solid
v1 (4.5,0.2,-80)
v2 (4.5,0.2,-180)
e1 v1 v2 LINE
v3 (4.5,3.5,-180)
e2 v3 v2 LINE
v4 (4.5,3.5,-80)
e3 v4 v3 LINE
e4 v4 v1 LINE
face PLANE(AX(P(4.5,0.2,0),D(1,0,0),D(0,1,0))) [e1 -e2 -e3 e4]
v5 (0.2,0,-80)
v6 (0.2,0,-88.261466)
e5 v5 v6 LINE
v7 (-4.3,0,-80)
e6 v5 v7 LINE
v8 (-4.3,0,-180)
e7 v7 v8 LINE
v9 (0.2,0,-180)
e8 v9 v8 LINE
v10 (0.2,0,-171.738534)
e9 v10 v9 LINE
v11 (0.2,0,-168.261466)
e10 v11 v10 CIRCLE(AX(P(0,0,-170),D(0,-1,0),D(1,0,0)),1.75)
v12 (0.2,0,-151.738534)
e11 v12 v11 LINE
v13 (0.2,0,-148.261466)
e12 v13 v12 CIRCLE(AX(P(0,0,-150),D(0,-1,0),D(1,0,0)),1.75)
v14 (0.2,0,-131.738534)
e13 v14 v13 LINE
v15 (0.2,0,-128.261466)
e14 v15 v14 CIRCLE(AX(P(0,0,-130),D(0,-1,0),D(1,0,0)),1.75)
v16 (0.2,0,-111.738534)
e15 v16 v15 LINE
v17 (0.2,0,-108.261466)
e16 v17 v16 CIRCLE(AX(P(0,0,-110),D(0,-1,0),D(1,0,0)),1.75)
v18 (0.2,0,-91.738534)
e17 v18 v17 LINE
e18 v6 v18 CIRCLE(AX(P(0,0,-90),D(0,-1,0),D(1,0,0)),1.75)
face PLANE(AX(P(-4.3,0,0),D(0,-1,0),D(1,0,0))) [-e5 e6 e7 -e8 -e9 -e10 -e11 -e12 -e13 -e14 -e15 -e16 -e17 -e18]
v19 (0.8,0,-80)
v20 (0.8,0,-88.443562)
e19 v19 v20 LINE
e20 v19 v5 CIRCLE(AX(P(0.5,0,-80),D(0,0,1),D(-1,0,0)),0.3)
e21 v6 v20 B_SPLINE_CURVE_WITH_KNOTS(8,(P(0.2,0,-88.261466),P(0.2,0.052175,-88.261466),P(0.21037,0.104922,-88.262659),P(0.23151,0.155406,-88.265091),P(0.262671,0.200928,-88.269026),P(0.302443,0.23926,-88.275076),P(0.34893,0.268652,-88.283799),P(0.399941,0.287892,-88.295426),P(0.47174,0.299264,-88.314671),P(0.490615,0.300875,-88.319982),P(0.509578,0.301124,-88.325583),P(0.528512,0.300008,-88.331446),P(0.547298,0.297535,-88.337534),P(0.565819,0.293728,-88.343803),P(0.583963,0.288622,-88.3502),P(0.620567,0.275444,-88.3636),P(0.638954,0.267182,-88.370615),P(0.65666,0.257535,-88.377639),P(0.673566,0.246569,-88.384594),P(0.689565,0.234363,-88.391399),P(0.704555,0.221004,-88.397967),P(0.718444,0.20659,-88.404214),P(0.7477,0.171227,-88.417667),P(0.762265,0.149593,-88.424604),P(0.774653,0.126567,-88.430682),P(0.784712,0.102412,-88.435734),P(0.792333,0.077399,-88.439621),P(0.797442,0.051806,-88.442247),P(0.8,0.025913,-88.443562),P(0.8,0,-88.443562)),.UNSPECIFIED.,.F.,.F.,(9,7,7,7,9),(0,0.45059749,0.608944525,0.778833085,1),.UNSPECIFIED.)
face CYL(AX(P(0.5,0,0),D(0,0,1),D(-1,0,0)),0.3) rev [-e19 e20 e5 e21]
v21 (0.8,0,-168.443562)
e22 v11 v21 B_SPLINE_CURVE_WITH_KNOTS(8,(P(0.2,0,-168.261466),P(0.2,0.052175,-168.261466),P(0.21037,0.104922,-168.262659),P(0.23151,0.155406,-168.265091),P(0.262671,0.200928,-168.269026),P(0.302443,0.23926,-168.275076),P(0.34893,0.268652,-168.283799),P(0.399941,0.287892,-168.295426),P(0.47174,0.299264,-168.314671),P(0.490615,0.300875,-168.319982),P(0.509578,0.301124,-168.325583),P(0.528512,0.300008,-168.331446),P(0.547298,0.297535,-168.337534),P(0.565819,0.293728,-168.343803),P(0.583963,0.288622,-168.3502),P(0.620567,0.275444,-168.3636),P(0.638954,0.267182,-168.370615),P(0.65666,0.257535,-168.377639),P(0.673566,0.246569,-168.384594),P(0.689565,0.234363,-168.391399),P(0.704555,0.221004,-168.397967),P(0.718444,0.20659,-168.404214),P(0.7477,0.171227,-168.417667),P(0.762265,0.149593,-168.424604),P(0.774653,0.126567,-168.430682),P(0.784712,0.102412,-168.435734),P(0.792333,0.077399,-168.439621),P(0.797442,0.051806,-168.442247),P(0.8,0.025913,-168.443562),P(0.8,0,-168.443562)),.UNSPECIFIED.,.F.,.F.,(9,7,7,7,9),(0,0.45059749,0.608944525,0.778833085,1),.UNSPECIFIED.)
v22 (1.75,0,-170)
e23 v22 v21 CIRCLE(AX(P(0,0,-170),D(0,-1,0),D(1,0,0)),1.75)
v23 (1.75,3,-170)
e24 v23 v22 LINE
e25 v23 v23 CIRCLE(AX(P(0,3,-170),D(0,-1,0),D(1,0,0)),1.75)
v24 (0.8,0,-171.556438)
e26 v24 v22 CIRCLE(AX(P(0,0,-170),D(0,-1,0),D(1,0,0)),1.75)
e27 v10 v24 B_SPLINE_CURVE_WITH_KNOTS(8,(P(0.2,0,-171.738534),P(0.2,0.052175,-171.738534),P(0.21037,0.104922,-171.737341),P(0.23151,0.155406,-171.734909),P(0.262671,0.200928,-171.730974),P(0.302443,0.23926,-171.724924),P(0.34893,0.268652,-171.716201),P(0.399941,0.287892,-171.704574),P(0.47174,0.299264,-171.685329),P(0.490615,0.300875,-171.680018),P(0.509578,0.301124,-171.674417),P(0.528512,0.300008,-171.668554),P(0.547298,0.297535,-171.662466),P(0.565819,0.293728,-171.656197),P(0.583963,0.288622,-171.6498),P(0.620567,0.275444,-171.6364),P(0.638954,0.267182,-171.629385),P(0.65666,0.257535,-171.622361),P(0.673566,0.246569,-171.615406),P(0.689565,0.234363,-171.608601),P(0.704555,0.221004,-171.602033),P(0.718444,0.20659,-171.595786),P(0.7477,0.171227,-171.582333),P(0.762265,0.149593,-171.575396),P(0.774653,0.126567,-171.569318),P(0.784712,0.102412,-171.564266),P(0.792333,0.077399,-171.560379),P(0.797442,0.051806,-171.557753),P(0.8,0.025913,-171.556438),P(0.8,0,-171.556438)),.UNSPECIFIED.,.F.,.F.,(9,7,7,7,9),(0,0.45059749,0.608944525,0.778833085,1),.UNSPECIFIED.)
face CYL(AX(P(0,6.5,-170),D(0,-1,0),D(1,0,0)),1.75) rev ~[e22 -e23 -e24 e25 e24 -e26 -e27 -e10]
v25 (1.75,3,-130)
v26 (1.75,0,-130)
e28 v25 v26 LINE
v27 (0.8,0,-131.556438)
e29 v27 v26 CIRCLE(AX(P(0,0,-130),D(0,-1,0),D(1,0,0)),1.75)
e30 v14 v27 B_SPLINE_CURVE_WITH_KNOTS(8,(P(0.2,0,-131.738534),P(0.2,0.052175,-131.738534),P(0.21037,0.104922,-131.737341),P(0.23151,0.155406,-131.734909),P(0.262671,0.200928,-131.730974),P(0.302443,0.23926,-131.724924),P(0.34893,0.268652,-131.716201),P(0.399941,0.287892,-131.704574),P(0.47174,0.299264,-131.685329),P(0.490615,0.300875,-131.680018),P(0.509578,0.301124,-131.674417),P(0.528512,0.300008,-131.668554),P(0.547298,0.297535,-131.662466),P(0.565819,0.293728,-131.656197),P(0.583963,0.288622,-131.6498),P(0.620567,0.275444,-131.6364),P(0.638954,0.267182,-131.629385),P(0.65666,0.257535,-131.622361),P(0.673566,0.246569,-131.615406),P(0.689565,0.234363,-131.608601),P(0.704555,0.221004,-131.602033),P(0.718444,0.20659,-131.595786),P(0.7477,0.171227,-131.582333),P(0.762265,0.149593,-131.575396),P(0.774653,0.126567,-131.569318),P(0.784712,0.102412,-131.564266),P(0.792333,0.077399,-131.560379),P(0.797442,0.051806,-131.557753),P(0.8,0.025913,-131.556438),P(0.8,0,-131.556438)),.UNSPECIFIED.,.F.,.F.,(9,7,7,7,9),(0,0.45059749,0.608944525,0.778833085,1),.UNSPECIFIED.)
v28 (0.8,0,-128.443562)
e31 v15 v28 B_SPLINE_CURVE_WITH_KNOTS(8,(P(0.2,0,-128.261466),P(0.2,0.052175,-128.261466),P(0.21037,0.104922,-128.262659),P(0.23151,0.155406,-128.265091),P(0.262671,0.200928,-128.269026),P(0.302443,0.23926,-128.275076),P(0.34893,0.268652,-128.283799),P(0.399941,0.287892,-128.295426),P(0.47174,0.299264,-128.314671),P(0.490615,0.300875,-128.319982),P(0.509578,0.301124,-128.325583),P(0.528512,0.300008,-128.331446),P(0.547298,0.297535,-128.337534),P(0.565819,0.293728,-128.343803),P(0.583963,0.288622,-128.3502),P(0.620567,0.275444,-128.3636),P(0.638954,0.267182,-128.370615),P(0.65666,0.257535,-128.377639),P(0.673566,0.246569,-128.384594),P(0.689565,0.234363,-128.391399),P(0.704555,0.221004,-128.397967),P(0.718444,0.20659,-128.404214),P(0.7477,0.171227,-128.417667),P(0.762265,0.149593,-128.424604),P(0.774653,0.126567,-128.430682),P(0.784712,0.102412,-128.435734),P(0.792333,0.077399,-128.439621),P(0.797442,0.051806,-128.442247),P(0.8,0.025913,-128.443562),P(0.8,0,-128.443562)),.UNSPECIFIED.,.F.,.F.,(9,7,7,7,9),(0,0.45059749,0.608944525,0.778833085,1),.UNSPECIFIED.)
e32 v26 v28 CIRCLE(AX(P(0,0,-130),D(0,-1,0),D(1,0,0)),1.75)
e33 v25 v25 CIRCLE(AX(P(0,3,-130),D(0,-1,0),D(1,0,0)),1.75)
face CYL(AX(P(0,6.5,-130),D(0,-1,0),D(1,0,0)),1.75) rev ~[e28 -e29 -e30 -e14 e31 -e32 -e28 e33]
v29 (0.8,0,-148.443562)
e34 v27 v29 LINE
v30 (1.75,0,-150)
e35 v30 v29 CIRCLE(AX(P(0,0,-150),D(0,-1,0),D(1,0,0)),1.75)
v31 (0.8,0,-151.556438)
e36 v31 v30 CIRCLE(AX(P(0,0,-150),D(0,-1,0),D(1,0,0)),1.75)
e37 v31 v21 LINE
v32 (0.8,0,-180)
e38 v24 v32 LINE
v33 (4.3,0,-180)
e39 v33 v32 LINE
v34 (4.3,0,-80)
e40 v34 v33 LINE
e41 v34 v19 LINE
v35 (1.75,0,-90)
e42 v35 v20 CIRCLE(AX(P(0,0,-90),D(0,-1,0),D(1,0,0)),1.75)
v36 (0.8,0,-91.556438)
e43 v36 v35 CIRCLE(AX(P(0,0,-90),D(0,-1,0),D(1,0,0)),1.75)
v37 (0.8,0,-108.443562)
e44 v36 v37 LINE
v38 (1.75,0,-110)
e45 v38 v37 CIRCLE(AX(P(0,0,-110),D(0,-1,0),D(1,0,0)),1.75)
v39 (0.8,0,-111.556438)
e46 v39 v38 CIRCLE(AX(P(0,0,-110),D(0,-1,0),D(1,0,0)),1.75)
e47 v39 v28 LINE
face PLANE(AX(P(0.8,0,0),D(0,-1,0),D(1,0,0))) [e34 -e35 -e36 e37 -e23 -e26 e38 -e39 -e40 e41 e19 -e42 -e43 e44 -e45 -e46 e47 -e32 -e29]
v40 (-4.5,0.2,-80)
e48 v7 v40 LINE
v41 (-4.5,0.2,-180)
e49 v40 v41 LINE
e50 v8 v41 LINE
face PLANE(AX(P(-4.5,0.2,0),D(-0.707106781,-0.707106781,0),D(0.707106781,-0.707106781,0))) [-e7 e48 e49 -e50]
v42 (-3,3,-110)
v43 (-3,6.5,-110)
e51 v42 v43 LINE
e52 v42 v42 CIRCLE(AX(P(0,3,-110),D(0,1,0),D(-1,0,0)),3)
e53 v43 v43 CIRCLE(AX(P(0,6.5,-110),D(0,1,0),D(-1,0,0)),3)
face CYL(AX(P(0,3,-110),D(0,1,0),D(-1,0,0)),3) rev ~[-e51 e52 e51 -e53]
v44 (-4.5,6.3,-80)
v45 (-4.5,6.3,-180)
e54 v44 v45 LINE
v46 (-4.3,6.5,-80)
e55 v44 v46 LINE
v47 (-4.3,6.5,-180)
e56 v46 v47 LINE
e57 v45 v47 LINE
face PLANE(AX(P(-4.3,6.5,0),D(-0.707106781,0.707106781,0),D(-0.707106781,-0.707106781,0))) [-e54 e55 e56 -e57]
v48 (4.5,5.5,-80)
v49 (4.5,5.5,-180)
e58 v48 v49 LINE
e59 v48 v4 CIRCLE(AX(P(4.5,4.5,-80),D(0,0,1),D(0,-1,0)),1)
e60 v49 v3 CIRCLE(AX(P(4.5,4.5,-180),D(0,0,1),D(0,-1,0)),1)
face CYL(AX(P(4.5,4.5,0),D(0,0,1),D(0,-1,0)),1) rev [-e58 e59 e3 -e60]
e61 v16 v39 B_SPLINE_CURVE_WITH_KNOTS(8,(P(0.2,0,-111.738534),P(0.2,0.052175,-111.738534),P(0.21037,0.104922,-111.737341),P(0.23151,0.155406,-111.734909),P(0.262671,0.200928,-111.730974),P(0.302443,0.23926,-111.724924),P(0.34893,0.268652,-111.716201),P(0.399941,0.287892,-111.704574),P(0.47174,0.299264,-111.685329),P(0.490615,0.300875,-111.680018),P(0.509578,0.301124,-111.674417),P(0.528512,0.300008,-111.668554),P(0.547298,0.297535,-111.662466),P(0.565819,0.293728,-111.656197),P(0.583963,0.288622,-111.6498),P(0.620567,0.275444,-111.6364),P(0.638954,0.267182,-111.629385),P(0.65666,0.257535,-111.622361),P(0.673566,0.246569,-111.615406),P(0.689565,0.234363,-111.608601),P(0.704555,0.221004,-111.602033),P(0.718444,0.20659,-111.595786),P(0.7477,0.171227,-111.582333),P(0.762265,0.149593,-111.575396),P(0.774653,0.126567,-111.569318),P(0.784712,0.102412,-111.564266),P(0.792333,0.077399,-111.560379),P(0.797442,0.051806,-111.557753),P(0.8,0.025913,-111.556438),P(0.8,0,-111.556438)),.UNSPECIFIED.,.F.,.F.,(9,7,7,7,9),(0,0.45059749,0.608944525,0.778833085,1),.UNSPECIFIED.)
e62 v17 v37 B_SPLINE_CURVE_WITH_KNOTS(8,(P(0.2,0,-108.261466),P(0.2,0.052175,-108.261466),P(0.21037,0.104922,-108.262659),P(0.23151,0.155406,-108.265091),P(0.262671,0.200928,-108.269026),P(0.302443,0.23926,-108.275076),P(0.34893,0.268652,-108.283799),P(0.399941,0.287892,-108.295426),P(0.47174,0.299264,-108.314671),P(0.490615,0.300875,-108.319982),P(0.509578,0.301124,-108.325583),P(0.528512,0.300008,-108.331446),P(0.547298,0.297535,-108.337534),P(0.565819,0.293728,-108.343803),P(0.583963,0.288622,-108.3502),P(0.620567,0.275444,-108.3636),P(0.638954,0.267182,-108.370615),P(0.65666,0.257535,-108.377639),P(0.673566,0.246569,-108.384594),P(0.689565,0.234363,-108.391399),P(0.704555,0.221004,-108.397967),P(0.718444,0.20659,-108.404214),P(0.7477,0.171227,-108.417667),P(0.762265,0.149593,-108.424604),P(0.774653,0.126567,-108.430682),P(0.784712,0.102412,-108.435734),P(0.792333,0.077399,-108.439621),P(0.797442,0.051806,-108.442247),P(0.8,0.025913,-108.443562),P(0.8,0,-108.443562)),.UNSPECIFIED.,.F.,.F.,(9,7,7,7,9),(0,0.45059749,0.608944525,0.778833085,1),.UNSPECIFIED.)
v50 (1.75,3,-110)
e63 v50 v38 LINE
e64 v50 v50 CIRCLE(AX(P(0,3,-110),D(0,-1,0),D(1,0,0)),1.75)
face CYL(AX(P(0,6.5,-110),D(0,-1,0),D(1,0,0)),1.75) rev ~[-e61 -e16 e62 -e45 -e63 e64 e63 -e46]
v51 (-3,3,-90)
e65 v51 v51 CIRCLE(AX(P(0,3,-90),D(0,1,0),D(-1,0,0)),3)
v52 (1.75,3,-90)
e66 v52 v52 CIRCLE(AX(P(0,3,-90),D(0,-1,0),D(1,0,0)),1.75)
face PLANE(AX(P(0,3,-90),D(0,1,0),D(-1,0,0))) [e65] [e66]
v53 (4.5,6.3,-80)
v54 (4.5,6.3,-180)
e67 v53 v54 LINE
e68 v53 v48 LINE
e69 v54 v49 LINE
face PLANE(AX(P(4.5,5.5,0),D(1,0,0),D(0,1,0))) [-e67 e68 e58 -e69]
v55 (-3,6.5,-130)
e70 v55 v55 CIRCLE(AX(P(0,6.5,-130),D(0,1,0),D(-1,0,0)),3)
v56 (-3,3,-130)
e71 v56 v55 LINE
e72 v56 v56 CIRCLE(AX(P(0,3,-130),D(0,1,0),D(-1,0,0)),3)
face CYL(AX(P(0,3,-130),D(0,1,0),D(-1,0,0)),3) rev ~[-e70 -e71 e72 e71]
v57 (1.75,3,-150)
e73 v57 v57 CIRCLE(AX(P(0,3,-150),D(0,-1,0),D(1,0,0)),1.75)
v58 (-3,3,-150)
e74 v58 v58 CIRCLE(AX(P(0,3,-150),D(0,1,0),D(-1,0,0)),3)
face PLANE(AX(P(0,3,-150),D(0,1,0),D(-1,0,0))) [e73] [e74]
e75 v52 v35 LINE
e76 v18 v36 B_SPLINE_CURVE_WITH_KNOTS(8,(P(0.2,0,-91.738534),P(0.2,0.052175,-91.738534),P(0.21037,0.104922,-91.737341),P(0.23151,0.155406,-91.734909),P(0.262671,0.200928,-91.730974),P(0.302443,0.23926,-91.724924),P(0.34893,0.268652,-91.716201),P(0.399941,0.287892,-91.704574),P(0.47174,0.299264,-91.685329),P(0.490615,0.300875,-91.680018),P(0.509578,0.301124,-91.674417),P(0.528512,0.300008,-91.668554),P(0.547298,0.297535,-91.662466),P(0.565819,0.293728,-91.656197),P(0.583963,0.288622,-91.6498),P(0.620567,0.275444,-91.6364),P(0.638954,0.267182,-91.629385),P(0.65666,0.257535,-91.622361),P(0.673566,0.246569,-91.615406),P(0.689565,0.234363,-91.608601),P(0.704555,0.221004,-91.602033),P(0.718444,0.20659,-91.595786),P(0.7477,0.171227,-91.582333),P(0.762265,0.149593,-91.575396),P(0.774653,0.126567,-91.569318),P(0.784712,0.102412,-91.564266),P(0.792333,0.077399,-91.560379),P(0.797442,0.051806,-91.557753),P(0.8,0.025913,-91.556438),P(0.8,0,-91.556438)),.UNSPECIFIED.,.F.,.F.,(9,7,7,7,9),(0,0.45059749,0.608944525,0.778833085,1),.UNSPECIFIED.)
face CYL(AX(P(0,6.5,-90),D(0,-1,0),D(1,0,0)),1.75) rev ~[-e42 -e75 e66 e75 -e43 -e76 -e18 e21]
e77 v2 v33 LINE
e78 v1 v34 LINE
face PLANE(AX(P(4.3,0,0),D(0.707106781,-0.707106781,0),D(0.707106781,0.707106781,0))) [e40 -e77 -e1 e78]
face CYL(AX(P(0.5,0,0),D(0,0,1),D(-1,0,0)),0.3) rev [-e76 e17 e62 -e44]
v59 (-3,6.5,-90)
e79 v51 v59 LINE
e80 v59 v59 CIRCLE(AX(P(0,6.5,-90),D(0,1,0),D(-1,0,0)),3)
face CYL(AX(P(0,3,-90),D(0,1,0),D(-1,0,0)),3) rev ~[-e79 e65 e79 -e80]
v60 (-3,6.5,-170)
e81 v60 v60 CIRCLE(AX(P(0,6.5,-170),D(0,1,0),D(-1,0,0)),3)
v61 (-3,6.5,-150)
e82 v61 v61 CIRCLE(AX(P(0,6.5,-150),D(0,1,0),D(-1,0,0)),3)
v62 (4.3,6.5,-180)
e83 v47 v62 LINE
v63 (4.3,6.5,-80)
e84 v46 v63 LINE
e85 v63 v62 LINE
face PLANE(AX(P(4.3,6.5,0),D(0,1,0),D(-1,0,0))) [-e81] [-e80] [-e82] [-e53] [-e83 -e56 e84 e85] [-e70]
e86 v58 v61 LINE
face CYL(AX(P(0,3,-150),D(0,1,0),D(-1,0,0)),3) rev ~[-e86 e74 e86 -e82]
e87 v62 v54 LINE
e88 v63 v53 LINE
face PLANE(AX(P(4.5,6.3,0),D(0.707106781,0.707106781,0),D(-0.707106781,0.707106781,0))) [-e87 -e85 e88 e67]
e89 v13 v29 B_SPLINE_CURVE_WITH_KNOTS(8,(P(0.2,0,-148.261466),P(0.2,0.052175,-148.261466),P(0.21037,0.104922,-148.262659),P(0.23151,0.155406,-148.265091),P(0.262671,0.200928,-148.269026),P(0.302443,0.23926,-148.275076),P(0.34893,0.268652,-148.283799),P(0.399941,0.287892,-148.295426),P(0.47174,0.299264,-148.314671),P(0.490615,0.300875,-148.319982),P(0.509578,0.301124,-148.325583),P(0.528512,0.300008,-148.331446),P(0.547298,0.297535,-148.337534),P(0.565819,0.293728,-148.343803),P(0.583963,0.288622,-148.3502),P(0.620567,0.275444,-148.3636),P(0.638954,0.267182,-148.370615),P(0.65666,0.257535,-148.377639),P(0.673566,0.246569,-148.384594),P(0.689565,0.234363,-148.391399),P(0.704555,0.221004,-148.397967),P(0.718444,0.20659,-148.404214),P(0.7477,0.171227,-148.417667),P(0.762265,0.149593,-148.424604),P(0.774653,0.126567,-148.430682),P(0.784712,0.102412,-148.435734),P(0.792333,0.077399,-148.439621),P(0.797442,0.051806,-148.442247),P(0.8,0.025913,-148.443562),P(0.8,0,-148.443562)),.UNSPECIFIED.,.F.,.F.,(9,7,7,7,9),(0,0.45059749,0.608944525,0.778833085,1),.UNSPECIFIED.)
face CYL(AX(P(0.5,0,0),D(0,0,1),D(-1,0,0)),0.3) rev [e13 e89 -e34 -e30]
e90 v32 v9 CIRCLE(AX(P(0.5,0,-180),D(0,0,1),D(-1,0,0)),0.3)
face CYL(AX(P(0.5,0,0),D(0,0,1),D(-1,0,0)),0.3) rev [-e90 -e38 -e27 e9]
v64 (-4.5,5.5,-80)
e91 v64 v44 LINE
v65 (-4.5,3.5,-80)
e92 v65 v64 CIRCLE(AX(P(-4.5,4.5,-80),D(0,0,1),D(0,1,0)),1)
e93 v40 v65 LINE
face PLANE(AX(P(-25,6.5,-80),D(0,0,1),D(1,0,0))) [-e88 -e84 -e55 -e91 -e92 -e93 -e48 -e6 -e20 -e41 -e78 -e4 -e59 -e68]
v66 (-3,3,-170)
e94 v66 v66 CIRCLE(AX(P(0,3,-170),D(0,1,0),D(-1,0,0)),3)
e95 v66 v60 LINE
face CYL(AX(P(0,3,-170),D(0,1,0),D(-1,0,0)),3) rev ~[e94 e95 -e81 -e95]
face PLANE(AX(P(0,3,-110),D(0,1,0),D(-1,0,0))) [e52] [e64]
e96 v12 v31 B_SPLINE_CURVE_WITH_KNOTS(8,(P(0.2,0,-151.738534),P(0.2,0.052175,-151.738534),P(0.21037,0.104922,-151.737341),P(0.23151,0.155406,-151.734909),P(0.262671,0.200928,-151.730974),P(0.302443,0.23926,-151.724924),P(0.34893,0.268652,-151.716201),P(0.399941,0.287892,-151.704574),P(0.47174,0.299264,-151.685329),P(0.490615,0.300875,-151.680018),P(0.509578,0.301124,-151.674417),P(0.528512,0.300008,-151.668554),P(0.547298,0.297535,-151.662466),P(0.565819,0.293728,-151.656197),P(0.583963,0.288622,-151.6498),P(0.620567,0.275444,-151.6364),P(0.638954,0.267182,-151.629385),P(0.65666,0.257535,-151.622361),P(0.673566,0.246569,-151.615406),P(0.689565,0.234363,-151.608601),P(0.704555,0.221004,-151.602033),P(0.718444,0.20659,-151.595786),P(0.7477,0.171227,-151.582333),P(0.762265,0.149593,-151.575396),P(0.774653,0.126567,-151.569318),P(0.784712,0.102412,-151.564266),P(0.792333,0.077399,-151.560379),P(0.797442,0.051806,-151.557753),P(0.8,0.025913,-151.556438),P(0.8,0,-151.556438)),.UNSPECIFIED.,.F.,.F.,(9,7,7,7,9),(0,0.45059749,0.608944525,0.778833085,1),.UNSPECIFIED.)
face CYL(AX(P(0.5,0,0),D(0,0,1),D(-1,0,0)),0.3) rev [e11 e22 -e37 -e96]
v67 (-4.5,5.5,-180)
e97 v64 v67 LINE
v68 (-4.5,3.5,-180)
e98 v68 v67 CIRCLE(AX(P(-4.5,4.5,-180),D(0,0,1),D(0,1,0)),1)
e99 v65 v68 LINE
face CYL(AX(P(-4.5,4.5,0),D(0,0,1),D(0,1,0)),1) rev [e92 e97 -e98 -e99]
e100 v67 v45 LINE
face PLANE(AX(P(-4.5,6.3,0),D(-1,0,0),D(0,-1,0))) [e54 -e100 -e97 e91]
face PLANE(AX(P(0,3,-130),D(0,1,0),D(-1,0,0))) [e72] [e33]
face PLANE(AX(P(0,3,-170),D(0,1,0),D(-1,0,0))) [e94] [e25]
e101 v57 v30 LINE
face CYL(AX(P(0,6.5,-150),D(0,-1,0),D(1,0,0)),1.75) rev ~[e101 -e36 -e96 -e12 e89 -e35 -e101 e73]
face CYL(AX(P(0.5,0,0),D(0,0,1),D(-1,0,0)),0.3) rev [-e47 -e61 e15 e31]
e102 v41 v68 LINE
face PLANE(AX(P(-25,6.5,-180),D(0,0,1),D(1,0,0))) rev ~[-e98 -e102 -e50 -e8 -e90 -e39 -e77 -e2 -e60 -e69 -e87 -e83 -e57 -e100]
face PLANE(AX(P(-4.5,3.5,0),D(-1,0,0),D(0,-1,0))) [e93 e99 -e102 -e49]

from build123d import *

# Parameters (mm, degrees)
EXTRUDE_1_DEPTH              = 220
HOLE_WIZARD_M3_1_D           = 3.5
HOLE_WIZARD_M3_1_CBORE_D     = 6
HOLE_WIZARD_M3_1_CBORE_DEPTH = 3.5
PATTERN_LINEAR_1_COUNT       = 11
PATTERN_LINEAR_1_PITCH       = 20
SKETCH_6_W                   = 1.5
SKETCH_6_H                   = 0.134615385
CUT_EXTRUDE_1_DEPTH          = 0.1
SKETCH_8_W                   = 50
SKETCH_8_H                   = 60
SKETCH_8_H_2                 = 140
CUT_EXTRUDE_2_DEPTH          = 221.14199973


with BuildPart() as part:
    # 草图1 → 凸台-拉伸1 (new body)
    with BuildSketch(Plane.XY):
        with BuildLine():
            Line((4.5, 5.5), (4.5, 6.3))
            Line((4.5, 6.3), (4.3, 6.5))
            Line((4.3, 6.5), (-4.3, 6.5))
            Line((-4.3, 6.5), (-4.5, 6.3))
            Line((-4.5, 6.3), (-4.5, 5.5))
            ThreePointArc((-4.5, 5.5), (-3.5, 4.5), (-4.5, 3.5))
            Line((-4.5, 3.5), (-4.5, 0.2))
            Line((-4.5, 0.2), (-4.3, 0))
            Line((-4.3, 0), (0.2, 0))
            ThreePointArc((0.2, 0), (0.5, 0.3), (0.8, 0))
            Line((0.8, 0), (4.3, 0))
            Line((4.3, 0), (4.5, 0.2))
            Line((4.5, 0.2), (4.5, 3.5))
            ThreePointArc((4.5, 3.5), (3.5, 4.5), (4.5, 5.5))
        make_face()
    extrude(amount=-EXTRUDE_1_DEPTH)

    # M3 六角凹头螺钉的柱形沉头孔1 (through all)
    with Locations(Plane(origin=(0.754900713, 6.5, 19.343475793), x_dir=(-1, 0, 0), z_dir=(0, 1, 0))):
        with Locations((0.754900713, -29.343475793)):
            hole_wizard_m3_1 = CounterBoreHole(HOLE_WIZARD_M3_1_D / 2, HOLE_WIZARD_M3_1_CBORE_D / 2, HOLE_WIZARD_M3_1_CBORE_DEPTH)

    # 阵列(线性)1: M3 六角凹头螺钉的柱形沉头孔1 ×11
    with Locations(*[(0, 0, -i * PATTERN_LINEAR_1_PITCH) for i in range(1, PATTERN_LINEAR_1_COUNT)]):
        add(hole_wizard_m3_1, mode=Mode.SUBTRACT)

    # 草图6 → 切除-拉伸1 (cut)
    # profile 1 of 9: a face of its own
    with BuildSketch(Plane(origin=(0, 6.5, 0), x_dir=(1, 0, 0), z_dir=(0, 1, 0))):
        Polygon((-1.5, 13.740384615), (-1.5, 13.875), (-0.884615385, 13.875), (-0.884615385, 14.644230769), (-1.5, 14.644230769), (-1.5, 14.778846154), (0, 14.778846154), (0, 14.644230769), (-0.730769231, 14.644230769), (-0.730769231, 13.875), (0, 13.875), (0, 13.740384615), align=None)
    # profile 2 of 9: a face of its own
    with BuildSketch(Plane(origin=(0, 6.5, 0), x_dir=(1, 0, 0), z_dir=(0, 1, 0))):
        with Locations((-0.75, 15.230769231)):
            Rectangle(SKETCH_6_W, SKETCH_6_H)
    # profile 3 of 9: a face of its own
    with BuildSketch(Plane(origin=(0, 6.5, 0), x_dir=(1, 0, 0), z_dir=(0, 1, 0))):
        Polygon((-1.5, 15.528846154), (-1.5, 15.66796875), (-0.399939904, 15.961538462), (-1.5, 16.398137019), (-1.5, 16.417668269), (-0.407451923, 16.846153846), (-1.5, 17.141225962), (-1.5, 17.278846154), (0, 16.874399038), (0, 16.855168269), (-1.147235577, 16.403846154), (0, 15.947115385), (0, 15.927884615), align=None)
    # profile 4 of 9: a face of its own
    with BuildSketch(Plane(origin=(0, 6.5, 0), x_dir=(1, 0, 0), z_dir=(0, 1, 0))):
        with Locations((-0.75, 17.692307693)):
            Rectangle(SKETCH_6_W, SKETCH_6_H)
    # profile 5 of 9: a face of its own
    with BuildSketch(Plane(origin=(0, 6.5, 0), x_dir=(1, 0, 0), z_dir=(0, 1, 0))):
        Polygon((0, 18.086538462), (-1.5, 18.086538462), (-1.5, 18.114783654), (-0.319411058, 19.105769231), (-1.5, 19.105769231), (-1.5, 19.240384615), (0, 19.240384615), (0, 19.209735577), (-1.177884615, 18.221153846), (0, 18.221153846), align=None)
    # profile 6 of 9: a face of its own
    with BuildSketch(Plane(origin=(0, 6.5, 0), x_dir=(1, 0, 0), z_dir=(0, 1, 0))):
        Polygon((0, 20.125), (-1.5, 20.323016827), (-1.5, 20.342247596), (-0.269230769, 20.961538462), (-1.5, 21.579326923), (-1.5, 21.598858173), (0, 21.798076923), (0, 21.662860577), (-1.079326923, 21.519230769), (0, 20.977764423), (0, 20.947415865), (-1.081730769, 20.403846154), (0, 20.260516827), align=None)
    # profile 7 of 9: a face of its own
    with BuildSketch(Plane(origin=(0, 6.5, 0), x_dir=(1, 0, 0), z_dir=(0, 1, 0))):
        with BuildLine():
            Line((-1.243990385, 23.509615385), (-1.134615385, 23.394230769))
            add(Edge.make_bspline(
                [(-1.134615385, 23.394230769), (-1.154263766, 23.373355449), (-1.193092001, 23.332102593), (-1.243390317, 23.264731189), (-1.28690443, 23.194721537), (-1.322045397, 23.121960438), (-1.349611823, 23.048355866), (-1.369650093, 22.975173457), (-1.382340162, 22.902887044), (-1.383864341, 22.854816629), (-1.384615385, 22.831129808)],
                knots=[0, 0, 0, 0, 1.089067066, 2.152164705, 3.18986567, 4.218445106, 5.218487318, 6.173592265, 7.100032889, 8, 8, 8, 8], degree=3))
            add(Edge.make_bspline(
                [(-1.384615385, 22.831129808), (-1.384438125, 22.816594936), (-1.384084065, 22.78756289), (-1.379565116, 22.7444392), (-1.373065889, 22.701767784), (-1.363662227, 22.659629195), (-1.351744059, 22.6179415), (-1.336836002, 22.576849691), (-1.319455188, 22.536277104), (-1.299371251, 22.496605953), (-1.277308532, 22.458145638), (-1.252858892, 22.42182164), (-1.226807524, 22.387400299), (-1.198496406, 22.355536353), (-1.168203133, 22.326017847), (-1.136473262, 22.298301833), (-1.102682945, 22.272904871), (-1.066971137, 22.250282454), (-1.030168657, 22.229853485), (-0.992587626, 22.212199685), (-0.954576919, 22.196852561), (-0.915850319, 22.185163721), (-0.876807084, 22.175263346), (-0.837242608, 22.168371388), (-0.797053572, 22.164472967), (-0.770140273, 22.163799899), (-0.756610577, 22.163461538)],
                knots=[0, 0, 0, 0, 1.028150113, 2.053633673, 3.06513288, 4.081487945, 5.106702018, 6.131327874, 7.172780699, 8.228344599, 9.276313556, 10.308389736, 11.324843658, 12.329040066, 13.321460474, 14.316307835, 15.308626991, 16.309440696, 17.305625405, 18.28535951, 19.246194545, 20.203493668, 21.145557131, 22.095268976, 23.042464743, 24, 24, 24, 24], degree=3))
            add(Edge.make_bspline(
                [(-0.756610577, 22.163461538), (-0.742780294, 22.163785622), (-0.715157493, 22.164432905), (-0.673930463, 22.168569989), (-0.633320499, 22.176265079), (-0.593263727, 22.186470115), (-0.553680426, 22.199444118), (-0.514611904, 22.215383767), (-0.476061961, 22.23437211), (-0.438413282, 22.256302653), (-0.401770368, 22.280520997), (-0.36696502, 22.307157219), (-0.334402283, 22.336256163), (-0.303606537, 22.367284281), (-0.274772132, 22.40052428), (-0.248246624, 22.43629865), (-0.223619847, 22.474106619), (-0.201162346, 22.513964957), (-0.181102046, 22.555452377), (-0.163263098, 22.597990847), (-0.14857199, 22.641717091), (-0.136598507, 22.686401091), (-0.126784097, 22.731989638), (-0.120470176, 22.778714125), (-0.115888391, 22.826231), (-0.11555339, 22.858261842), (-0.115384615, 22.874399038)],
                knots=[0, 0, 0, 0, 0.935915162, 1.869274651, 2.799799983, 3.730201895, 4.664668062, 5.616159355, 6.583070886, 7.570012957, 8.562524459, 9.553461134, 10.53281078, 11.515274572, 12.509912756, 13.507571325, 14.526460018, 15.561318395, 16.601025881, 17.643204557, 18.680545676, 19.719612342, 20.772381578, 21.833430283, 22.908478249, 24, 24, 24, 24], degree=3))
            add(Edge.make_bspline(
                [(-0.115384615, 22.874399038), (-0.11579098, 22.893846981), (-0.116588941, 22.932036175), (-0.122805743, 22.988172098), (-0.132502802, 23.042091792), (-0.14674811, 23.093619722), (-0.164779159, 23.142942891), (-0.187077122, 23.189879386), (-0.213407387, 23.234558812), (-0.24323677, 23.276787781), (-0.276471827, 23.315562361), (-0.312015273, 23.350851823), (-0.350327601, 23.381442662), (-0.390837822, 23.408248655), (-0.433933425, 23.430404616), (-0.479374666, 23.448595707), (-0.527189663, 23.462538188), (-0.560228886, 23.468261798), (-0.576923077, 23.471153846)],
                knots=[0, 0, 0, 0, 1.130199668, 2.219330667, 3.279027493, 4.311506524, 5.322739849, 6.327972234, 7.327472899, 8.33386792, 9.329086447, 10.29244429, 11.240784345, 12.174119183, 13.111530729, 14.052100829, 15.015757696, 16, 16, 16, 16], degree=3))
            Line((-0.576923077, 23.471153846), (-0.576923077, 22.971153846))
            Line((-0.576923077, 22.971153846), (-0.730769231, 22.971153846))
            Line((-0.730769231, 22.971153846), (-0.730769231, 23.605769231))
            add(Edge.make_bspline(
                [(-0.730769231, 23.605769231), (-0.702094593, 23.605038153), (-0.645973146, 23.603607301), (-0.564128744, 23.593570623), (-0.48682659, 23.577363547), (-0.413985274, 23.555223413), (-0.34570802, 23.526562579), (-0.281925506, 23.491688638), (-0.223049785, 23.450043443), (-0.168600212, 23.403110397), (-0.12003055, 23.350438986), (-0.077342291, 23.293452435), (-0.041384027, 23.232056591), (-0.012129457, 23.166309531), (0.010702255, 23.096426488), (0.026890073, 23.022245754), (0.036588629, 22.943867925), (0.037827792, 22.890152206), (0.038461538, 22.862680288)],
                knots=[0, 0, 0, 0, 1.140356446, 2.231883559, 3.274166699, 4.278491846, 5.25512956, 6.21435461, 7.1637429, 8.11826594, 9.068280886, 10.0076534, 10.945064095, 11.891975133, 12.864533718, 13.863980011, 14.907571808, 16, 16, 16, 16], degree=3))
            add(Edge.make_bspline(
                [(0.038461538, 22.862680288), (0.038217629, 22.845747373), (0.037736562, 22.812350207), (0.034317699, 22.763025524), (0.029054595, 22.715060829), (0.021106685, 22.668463111), (0.011371833, 22.623060964), (-0.001093904, 22.579081142), (-0.015523346, 22.53635611), (-0.031935778, 22.494819831), (-0.050952202, 22.45484931), (-0.072084905, 22.416266517), (-0.095224917, 22.378858178), (-0.120772422, 22.342879107), (-0.148536333, 22.308141841), (-0.178572299, 22.274870365), (-0.210788493, 22.242878417), (-0.233665211, 22.222838219), (-0.245192308, 22.212740385)],
                knots=[0, 0, 0, 0, 1.107784379, 2.184907829, 3.233506516, 4.263428166, 5.276301166, 6.270063455, 7.25232949, 8.225834625, 9.190232166, 10.146266622, 11.1027726, 12.066435141, 13.031522626, 14.010570082, 14.99756817, 16, 16, 16, 16], degree=3))
            add(Edge.make_bspline(
                [(-0.245192308, 22.212740385), (-0.26347973, 22.198089271), (-0.299751023, 22.169030237), (-0.357865285, 22.131625313), (-0.418037511, 22.099738997), (-0.480435209, 22.073867073), (-0.545000015, 22.053665036), (-0.611649425, 22.039176642), (-0.680469267, 22.030687804), (-0.727040094, 22.02946486), (-0.750600962, 22.028846154)],
                knots=[0, 0, 0, 0, 1.023165419, 2.029347347, 3.013907458, 3.994755782, 4.975994455, 5.96558838, 6.970761222, 8, 8, 8, 8], degree=3))
            add(Edge.make_bspline(
                [(-0.750600962, 22.028846154), (-0.768243641, 22.029074256), (-0.803304773, 22.029527561), (-0.855357904, 22.035024211), (-0.906486775, 22.042910531), (-0.956649576, 22.054502135), (-1.005879862, 22.069114786), (-1.054200296, 22.087352121), (-1.101640133, 22.108585168), (-1.147870041, 22.133266476), (-1.192287019, 22.160724506), (-1.234673706, 22.190556358), (-1.274343142, 22.222992223), (-1.311387223, 22.258126549), (-1.346354989, 22.295251091), (-1.378516018, 22.33514522), (-1.408373576, 22.377204507), (-1.435353952, 22.421754996), (-1.459597318, 22.468093695), (-1.480849352, 22.516119874), (-1.498413761, 22.565816082), (-1.513316774, 22.616810749), (-1.524337558, 22.669489669), (-1.532329875, 22.723470616), (-1.537798704, 22.779034949), (-1.538238528, 22.816593247), (-1.538461538, 22.835637019)],
                knots=[0, 0, 0, 0, 1.00895651, 2.005089799, 2.991467152, 3.967318338, 4.948153826, 5.927364234, 6.919980553, 7.91976625, 8.923240147, 9.905815003, 10.88314567, 11.851989312, 12.825009789, 13.798721852, 14.781296708, 15.773896486, 16.776076962, 17.771600213, 18.775744723, 19.78957137, 20.808953803, 21.851964491, 22.910847925, 24, 24, 24, 24], degree=3))
            add(Edge.make_bspline(
                [(-1.538461538, 22.835637019), (-1.538213185, 22.851167695), (-1.537720729, 22.8819632), (-1.534307308, 22.927788514), (-1.528897073, 22.97290552), (-1.521514165, 23.017381116), (-1.511458298, 23.061063844), (-1.499424747, 23.104078147), (-1.485413966, 23.146486377), (-1.46870446, 23.188155626), (-1.449738621, 23.229366076), (-1.428390011, 23.270346865), (-1.404293581, 23.31095797), (-1.37737778, 23.351269819), (-1.348104887, 23.391536616), (-1.315637676, 23.431121462), (-1.281256495, 23.470979867), (-1.256535559, 23.496609216), (-1.243990385, 23.509615385)],
                knots=[0, 0, 0, 0, 0.985871117, 1.954866573, 2.915460327, 3.869826059, 4.81536089, 5.759505086, 6.70452669, 7.649098992, 8.607881297, 9.583363685, 10.581137262, 11.603961102, 12.659522466, 13.73993555, 14.853081303, 16, 16, 16, 16], degree=3))
        make_face()
    # profile 8 of 9: a face of its own
    with BuildSketch(Plane(origin=(0, 6.5, 0), x_dir=(1, 0, 0), z_dir=(0, 1, 0))):
        Polygon((0, 23.913461538), (-1.5, 23.913461538), (-1.5, 23.941706731), (-0.319411058, 24.932692308), (-1.5, 24.932692308), (-1.5, 25.067307692), (0, 25.067307692), (0, 25.036658654), (-1.177884615, 24.048076923), (0, 24.048076923), align=None)
    # profile 9 of 9: a face of its own
    with BuildSketch(Plane(origin=(0, 6.5, 0), x_dir=(1, 0, 0), z_dir=(0, 1, 0))):
        with BuildLine():
            Line((0.038461538, 25.644230769), (-0.036358173, 25.536658654))
            Line((-0.036358173, 25.536658654), (-0.646033654, 25.953725962))
            add(Edge.make_bspline(
                [(-0.646033654, 25.953725962), (-0.642627639, 25.927119325), (-0.635922786, 25.874743285), (-0.635046516, 25.821948826), (-0.634615385, 25.795973558)],
                knots=[0, 0, 0, 0, 1.015985029, 2, 2, 2, 2], degree=3))
            add(Edge.make_bspline(
                [(-0.634615385, 25.795973558), (-0.635018703, 25.780226966), (-0.635810382, 25.749317783), (-0.642085443, 25.703875646), (-0.651749784, 25.660210407), (-0.666170676, 25.61843782), (-0.684092777, 25.578400913), (-0.706317169, 25.540186946), (-0.732462883, 25.503847908), (-0.762390698, 25.469771994), (-0.79525498, 25.438786105), (-0.830027824, 25.411158608), (-0.867084601, 25.38832306), (-0.905643777, 25.369014905), (-0.946528356, 25.354782526), (-0.989044603, 25.344167996), (-1.033456433, 25.33770465), (-1.063680548, 25.336931181), (-1.079026442, 25.336538462)],
                knots=[0, 0, 0, 0, 1.060698949, 2.082059282, 3.085738422, 4.069684654, 5.054463875, 6.037298355, 7.043153692, 8.066652628, 9.088369706, 10.083456696, 11.053578809, 12.016466116, 12.983507685, 13.964045196, 14.966270913, 16, 16, 16, 16], degree=3))
            add(Edge.make_bspline(
                [(-1.079026442, 25.336538462), (-1.100012199, 25.337283285), (-1.141202981, 25.338745222), (-1.201400397, 25.350466182), (-1.258351131, 25.369885651), (-1.3119915, 25.396537862), (-1.361089385, 25.43075081), (-1.405478439, 25.47138122), (-1.444366827, 25.518757479), (-1.477757084, 25.571642671), (-1.504794475, 25.628718475), (-1.524003389, 25.688742519), (-1.536274492, 25.750703662), (-1.537729379, 25.792811829), (-1.538461538, 25.814002404)],
                knots=[0, 0, 0, 0, 1.023011052, 2.007963168, 2.978169221, 3.950402619, 4.919353283, 5.887490769, 6.876420893, 7.899700203, 8.931203047, 9.947778163, 10.96723692, 12, 12, 12, 12], degree=3))
            add(Edge.make_bspline(
                [(-1.538461538, 25.814002404), (-1.537677179, 25.834783148), (-1.536127357, 25.875843941), (-1.524777147, 25.936225043), (-1.505646911, 25.994056533), (-1.479211547, 26.04902008), (-1.446070758, 26.099903164), (-1.406596454, 26.145683388), (-1.360755672, 26.185145911), (-1.309807647, 26.21879079), (-1.25472961, 26.245295182), (-1.197347446, 26.264716171), (-1.138006313, 26.276587527), (-1.097810064, 26.2780886), (-1.077524038, 26.278846154)],
                knots=[0, 0, 0, 0, 1.026358223, 2.027987109, 3.023239252, 4.028077889, 5.032770297, 6.015020143, 7.004250571, 8.011656937, 9.02310243, 10.015224881, 10.998334443, 12, 12, 12, 12], degree=3))
            add(Edge.make_bspline(
                [(-1.077524038, 26.278846154), (-1.061777289, 26.278338872), (-1.029838946, 26.277309978), (-0.981399024, 26.270187018), (-0.932048608, 26.257900384), (-0.890237555, 26.244171772), (-0.855599349, 26.230715419), (-0.828157364, 26.218414328), (-0.799474135, 26.204124912), (-0.769432207, 26.188166246), (-0.737992383, 26.170568563), (-0.705372722, 26.150853478), (-0.671525668, 26.129286907), (-0.648704972, 26.113932306), (-0.637019231, 26.106069712)],
                knots=[0, 0, 0, 0, 1.179894106, 2.393120058, 3.660107319, 4.986885617, 5.687958251, 6.443931318, 7.239444731, 8.088894906, 8.992865148, 9.938946712, 10.944601238, 12, 12, 12, 12], degree=3))
            Line((-0.637019231, 26.106069712), (0.038461538, 25.644230769))
        make_face()
        with BuildLine():
            add(Edge.make_bspline(
                [(-0.788461538, 25.820913462), (-0.788788092, 25.832842038), (-0.789423782, 25.856062922), (-0.793275522, 25.890085737), (-0.800155229, 25.922181807), (-0.809870336, 25.952557703), (-0.822177437, 25.981176653), (-0.837175655, 26.008047671), (-0.855193568, 26.032896281), (-0.875446063, 26.05581095), (-0.897641992, 26.076606708), (-0.92142287, 26.094537445), (-0.946049906, 26.110062218), (-0.972027251, 26.122447516), (-0.998929945, 26.132428799), (-1.027147055, 26.139393389), (-1.056483756, 26.143240028), (-1.076411522, 26.143896939), (-1.086538462, 26.144230769)],
                knots=[0, 0, 0, 0, 1.163726718, 2.265380301, 3.334713825, 4.36057981, 5.371541381, 6.368955992, 7.355979581, 8.359691305, 9.348261197, 10.317521986, 11.261029684, 12.183096459, 13.119698615, 14.055740009, 15.011961376, 16, 16, 16, 16], degree=3))
            add(Edge.make_bspline(
                [(-1.086538462, 26.144230769), (-1.096669885, 26.143944046), (-1.116635099, 26.143379024), (-1.146011565, 26.138837612), (-1.174173238, 26.130870253), (-1.201311834, 26.120071794), (-1.227278993, 26.10611642), (-1.252156559, 26.089207568), (-1.27556797, 26.06878977), (-1.297899065, 26.04597379), (-1.318157147, 26.020878942), (-1.336055672, 25.994290795), (-1.351161049, 25.966351386), (-1.363089133, 25.93693608), (-1.37286104, 25.906444325), (-1.379778661, 25.87456046), (-1.383632614, 25.841240421), (-1.384283622, 25.818619358), (-1.384615385, 25.807091346)],
                knots=[0, 0, 0, 0, 0.971910406, 1.91526867, 2.84337505, 3.775008003, 4.712374136, 5.666733183, 6.654995996, 7.688089235, 8.726800303, 9.745078658, 10.75990398, 11.768337501, 12.786615857, 13.829099629, 14.893678693, 16, 16, 16, 16], degree=3))
            add(Edge.make_bspline(
                [(-1.384615385, 25.807091346), (-1.384283077, 25.795663594), (-1.383631091, 25.773242439), (-1.379786064, 25.740218598), (-1.372814047, 25.708550372), (-1.363093561, 25.678147127), (-1.351160136, 25.648732673), (-1.336054875, 25.620794582), (-1.318161301, 25.594200241), (-1.297882935, 25.569129265), (-1.275672102, 25.546272163), (-1.252051947, 25.526199864), (-1.227292163, 25.509252774), (-1.201308356, 25.495316895), (-1.174174163, 25.48451328), (-1.146011315, 25.476547297), (-1.116635164, 25.472005515), (-1.096669907, 25.471440543), (-1.086538462, 25.471153846)],
                knots=[0, 0, 0, 0, 1.099107991, 2.156440826, 3.191784126, 4.212280276, 5.222910149, 6.239945746, 7.260441896, 8.30141526, 9.33675856, 10.320924759, 11.277362386, 12.216770088, 13.150432123, 14.080559904, 15.025972789, 16, 16, 16, 16], degree=3))
            add(Edge.make_bspline(
                [(-1.086538462, 25.471153846), (-1.076403667, 25.471413811), (-1.056415996, 25.471926509), (-1.02704542, 25.476862927), (-0.998901248, 25.485140198), (-0.971743232, 25.496115903), (-0.945922725, 25.510845615), (-0.921305837, 25.528746476), (-0.897389308, 25.549401013), (-0.875515463, 25.573486122), (-0.855096635, 25.599349364), (-0.837288944, 25.627129241), (-0.822356647, 25.656267501), (-0.809834058, 25.686577057), (-0.800253227, 25.718284705), (-0.793288301, 25.751346293), (-0.789460709, 25.785767775), (-0.788797791, 25.809085836), (-0.788461538, 25.820913462)],
                knots=[0, 0, 0, 0, 0.952872936, 1.879239831, 2.791748947, 3.708674669, 4.628500839, 5.580394867, 6.568761142, 7.595635223, 8.636123962, 9.665976811, 10.694276597, 11.712685318, 12.747011694, 13.805940053, 14.887106426, 16, 16, 16, 16], degree=3))
        make_face(mode=Mode.SUBTRACT)
    extrude(amount=-CUT_EXTRUDE_1_DEPTH, mode=Mode.SUBTRACT)

    # 草图8 → 切除-拉伸2 (cut, through all)
    with BuildSketch(Plane(origin=(0, 6.5, 0), x_dir=(1, 0, 0), z_dir=(0, 1, 0))):
        with Locations((0, 210)):
            Rectangle(SKETCH_8_W, SKETCH_8_H)
        with Locations((0, 10)):
            Rectangle(SKETCH_8_W, SKETCH_8_H_2)
    extrude(amount=-CUT_EXTRUDE_2_DEPTH, mode=Mode.SUBTRACT)


solid = part.part
